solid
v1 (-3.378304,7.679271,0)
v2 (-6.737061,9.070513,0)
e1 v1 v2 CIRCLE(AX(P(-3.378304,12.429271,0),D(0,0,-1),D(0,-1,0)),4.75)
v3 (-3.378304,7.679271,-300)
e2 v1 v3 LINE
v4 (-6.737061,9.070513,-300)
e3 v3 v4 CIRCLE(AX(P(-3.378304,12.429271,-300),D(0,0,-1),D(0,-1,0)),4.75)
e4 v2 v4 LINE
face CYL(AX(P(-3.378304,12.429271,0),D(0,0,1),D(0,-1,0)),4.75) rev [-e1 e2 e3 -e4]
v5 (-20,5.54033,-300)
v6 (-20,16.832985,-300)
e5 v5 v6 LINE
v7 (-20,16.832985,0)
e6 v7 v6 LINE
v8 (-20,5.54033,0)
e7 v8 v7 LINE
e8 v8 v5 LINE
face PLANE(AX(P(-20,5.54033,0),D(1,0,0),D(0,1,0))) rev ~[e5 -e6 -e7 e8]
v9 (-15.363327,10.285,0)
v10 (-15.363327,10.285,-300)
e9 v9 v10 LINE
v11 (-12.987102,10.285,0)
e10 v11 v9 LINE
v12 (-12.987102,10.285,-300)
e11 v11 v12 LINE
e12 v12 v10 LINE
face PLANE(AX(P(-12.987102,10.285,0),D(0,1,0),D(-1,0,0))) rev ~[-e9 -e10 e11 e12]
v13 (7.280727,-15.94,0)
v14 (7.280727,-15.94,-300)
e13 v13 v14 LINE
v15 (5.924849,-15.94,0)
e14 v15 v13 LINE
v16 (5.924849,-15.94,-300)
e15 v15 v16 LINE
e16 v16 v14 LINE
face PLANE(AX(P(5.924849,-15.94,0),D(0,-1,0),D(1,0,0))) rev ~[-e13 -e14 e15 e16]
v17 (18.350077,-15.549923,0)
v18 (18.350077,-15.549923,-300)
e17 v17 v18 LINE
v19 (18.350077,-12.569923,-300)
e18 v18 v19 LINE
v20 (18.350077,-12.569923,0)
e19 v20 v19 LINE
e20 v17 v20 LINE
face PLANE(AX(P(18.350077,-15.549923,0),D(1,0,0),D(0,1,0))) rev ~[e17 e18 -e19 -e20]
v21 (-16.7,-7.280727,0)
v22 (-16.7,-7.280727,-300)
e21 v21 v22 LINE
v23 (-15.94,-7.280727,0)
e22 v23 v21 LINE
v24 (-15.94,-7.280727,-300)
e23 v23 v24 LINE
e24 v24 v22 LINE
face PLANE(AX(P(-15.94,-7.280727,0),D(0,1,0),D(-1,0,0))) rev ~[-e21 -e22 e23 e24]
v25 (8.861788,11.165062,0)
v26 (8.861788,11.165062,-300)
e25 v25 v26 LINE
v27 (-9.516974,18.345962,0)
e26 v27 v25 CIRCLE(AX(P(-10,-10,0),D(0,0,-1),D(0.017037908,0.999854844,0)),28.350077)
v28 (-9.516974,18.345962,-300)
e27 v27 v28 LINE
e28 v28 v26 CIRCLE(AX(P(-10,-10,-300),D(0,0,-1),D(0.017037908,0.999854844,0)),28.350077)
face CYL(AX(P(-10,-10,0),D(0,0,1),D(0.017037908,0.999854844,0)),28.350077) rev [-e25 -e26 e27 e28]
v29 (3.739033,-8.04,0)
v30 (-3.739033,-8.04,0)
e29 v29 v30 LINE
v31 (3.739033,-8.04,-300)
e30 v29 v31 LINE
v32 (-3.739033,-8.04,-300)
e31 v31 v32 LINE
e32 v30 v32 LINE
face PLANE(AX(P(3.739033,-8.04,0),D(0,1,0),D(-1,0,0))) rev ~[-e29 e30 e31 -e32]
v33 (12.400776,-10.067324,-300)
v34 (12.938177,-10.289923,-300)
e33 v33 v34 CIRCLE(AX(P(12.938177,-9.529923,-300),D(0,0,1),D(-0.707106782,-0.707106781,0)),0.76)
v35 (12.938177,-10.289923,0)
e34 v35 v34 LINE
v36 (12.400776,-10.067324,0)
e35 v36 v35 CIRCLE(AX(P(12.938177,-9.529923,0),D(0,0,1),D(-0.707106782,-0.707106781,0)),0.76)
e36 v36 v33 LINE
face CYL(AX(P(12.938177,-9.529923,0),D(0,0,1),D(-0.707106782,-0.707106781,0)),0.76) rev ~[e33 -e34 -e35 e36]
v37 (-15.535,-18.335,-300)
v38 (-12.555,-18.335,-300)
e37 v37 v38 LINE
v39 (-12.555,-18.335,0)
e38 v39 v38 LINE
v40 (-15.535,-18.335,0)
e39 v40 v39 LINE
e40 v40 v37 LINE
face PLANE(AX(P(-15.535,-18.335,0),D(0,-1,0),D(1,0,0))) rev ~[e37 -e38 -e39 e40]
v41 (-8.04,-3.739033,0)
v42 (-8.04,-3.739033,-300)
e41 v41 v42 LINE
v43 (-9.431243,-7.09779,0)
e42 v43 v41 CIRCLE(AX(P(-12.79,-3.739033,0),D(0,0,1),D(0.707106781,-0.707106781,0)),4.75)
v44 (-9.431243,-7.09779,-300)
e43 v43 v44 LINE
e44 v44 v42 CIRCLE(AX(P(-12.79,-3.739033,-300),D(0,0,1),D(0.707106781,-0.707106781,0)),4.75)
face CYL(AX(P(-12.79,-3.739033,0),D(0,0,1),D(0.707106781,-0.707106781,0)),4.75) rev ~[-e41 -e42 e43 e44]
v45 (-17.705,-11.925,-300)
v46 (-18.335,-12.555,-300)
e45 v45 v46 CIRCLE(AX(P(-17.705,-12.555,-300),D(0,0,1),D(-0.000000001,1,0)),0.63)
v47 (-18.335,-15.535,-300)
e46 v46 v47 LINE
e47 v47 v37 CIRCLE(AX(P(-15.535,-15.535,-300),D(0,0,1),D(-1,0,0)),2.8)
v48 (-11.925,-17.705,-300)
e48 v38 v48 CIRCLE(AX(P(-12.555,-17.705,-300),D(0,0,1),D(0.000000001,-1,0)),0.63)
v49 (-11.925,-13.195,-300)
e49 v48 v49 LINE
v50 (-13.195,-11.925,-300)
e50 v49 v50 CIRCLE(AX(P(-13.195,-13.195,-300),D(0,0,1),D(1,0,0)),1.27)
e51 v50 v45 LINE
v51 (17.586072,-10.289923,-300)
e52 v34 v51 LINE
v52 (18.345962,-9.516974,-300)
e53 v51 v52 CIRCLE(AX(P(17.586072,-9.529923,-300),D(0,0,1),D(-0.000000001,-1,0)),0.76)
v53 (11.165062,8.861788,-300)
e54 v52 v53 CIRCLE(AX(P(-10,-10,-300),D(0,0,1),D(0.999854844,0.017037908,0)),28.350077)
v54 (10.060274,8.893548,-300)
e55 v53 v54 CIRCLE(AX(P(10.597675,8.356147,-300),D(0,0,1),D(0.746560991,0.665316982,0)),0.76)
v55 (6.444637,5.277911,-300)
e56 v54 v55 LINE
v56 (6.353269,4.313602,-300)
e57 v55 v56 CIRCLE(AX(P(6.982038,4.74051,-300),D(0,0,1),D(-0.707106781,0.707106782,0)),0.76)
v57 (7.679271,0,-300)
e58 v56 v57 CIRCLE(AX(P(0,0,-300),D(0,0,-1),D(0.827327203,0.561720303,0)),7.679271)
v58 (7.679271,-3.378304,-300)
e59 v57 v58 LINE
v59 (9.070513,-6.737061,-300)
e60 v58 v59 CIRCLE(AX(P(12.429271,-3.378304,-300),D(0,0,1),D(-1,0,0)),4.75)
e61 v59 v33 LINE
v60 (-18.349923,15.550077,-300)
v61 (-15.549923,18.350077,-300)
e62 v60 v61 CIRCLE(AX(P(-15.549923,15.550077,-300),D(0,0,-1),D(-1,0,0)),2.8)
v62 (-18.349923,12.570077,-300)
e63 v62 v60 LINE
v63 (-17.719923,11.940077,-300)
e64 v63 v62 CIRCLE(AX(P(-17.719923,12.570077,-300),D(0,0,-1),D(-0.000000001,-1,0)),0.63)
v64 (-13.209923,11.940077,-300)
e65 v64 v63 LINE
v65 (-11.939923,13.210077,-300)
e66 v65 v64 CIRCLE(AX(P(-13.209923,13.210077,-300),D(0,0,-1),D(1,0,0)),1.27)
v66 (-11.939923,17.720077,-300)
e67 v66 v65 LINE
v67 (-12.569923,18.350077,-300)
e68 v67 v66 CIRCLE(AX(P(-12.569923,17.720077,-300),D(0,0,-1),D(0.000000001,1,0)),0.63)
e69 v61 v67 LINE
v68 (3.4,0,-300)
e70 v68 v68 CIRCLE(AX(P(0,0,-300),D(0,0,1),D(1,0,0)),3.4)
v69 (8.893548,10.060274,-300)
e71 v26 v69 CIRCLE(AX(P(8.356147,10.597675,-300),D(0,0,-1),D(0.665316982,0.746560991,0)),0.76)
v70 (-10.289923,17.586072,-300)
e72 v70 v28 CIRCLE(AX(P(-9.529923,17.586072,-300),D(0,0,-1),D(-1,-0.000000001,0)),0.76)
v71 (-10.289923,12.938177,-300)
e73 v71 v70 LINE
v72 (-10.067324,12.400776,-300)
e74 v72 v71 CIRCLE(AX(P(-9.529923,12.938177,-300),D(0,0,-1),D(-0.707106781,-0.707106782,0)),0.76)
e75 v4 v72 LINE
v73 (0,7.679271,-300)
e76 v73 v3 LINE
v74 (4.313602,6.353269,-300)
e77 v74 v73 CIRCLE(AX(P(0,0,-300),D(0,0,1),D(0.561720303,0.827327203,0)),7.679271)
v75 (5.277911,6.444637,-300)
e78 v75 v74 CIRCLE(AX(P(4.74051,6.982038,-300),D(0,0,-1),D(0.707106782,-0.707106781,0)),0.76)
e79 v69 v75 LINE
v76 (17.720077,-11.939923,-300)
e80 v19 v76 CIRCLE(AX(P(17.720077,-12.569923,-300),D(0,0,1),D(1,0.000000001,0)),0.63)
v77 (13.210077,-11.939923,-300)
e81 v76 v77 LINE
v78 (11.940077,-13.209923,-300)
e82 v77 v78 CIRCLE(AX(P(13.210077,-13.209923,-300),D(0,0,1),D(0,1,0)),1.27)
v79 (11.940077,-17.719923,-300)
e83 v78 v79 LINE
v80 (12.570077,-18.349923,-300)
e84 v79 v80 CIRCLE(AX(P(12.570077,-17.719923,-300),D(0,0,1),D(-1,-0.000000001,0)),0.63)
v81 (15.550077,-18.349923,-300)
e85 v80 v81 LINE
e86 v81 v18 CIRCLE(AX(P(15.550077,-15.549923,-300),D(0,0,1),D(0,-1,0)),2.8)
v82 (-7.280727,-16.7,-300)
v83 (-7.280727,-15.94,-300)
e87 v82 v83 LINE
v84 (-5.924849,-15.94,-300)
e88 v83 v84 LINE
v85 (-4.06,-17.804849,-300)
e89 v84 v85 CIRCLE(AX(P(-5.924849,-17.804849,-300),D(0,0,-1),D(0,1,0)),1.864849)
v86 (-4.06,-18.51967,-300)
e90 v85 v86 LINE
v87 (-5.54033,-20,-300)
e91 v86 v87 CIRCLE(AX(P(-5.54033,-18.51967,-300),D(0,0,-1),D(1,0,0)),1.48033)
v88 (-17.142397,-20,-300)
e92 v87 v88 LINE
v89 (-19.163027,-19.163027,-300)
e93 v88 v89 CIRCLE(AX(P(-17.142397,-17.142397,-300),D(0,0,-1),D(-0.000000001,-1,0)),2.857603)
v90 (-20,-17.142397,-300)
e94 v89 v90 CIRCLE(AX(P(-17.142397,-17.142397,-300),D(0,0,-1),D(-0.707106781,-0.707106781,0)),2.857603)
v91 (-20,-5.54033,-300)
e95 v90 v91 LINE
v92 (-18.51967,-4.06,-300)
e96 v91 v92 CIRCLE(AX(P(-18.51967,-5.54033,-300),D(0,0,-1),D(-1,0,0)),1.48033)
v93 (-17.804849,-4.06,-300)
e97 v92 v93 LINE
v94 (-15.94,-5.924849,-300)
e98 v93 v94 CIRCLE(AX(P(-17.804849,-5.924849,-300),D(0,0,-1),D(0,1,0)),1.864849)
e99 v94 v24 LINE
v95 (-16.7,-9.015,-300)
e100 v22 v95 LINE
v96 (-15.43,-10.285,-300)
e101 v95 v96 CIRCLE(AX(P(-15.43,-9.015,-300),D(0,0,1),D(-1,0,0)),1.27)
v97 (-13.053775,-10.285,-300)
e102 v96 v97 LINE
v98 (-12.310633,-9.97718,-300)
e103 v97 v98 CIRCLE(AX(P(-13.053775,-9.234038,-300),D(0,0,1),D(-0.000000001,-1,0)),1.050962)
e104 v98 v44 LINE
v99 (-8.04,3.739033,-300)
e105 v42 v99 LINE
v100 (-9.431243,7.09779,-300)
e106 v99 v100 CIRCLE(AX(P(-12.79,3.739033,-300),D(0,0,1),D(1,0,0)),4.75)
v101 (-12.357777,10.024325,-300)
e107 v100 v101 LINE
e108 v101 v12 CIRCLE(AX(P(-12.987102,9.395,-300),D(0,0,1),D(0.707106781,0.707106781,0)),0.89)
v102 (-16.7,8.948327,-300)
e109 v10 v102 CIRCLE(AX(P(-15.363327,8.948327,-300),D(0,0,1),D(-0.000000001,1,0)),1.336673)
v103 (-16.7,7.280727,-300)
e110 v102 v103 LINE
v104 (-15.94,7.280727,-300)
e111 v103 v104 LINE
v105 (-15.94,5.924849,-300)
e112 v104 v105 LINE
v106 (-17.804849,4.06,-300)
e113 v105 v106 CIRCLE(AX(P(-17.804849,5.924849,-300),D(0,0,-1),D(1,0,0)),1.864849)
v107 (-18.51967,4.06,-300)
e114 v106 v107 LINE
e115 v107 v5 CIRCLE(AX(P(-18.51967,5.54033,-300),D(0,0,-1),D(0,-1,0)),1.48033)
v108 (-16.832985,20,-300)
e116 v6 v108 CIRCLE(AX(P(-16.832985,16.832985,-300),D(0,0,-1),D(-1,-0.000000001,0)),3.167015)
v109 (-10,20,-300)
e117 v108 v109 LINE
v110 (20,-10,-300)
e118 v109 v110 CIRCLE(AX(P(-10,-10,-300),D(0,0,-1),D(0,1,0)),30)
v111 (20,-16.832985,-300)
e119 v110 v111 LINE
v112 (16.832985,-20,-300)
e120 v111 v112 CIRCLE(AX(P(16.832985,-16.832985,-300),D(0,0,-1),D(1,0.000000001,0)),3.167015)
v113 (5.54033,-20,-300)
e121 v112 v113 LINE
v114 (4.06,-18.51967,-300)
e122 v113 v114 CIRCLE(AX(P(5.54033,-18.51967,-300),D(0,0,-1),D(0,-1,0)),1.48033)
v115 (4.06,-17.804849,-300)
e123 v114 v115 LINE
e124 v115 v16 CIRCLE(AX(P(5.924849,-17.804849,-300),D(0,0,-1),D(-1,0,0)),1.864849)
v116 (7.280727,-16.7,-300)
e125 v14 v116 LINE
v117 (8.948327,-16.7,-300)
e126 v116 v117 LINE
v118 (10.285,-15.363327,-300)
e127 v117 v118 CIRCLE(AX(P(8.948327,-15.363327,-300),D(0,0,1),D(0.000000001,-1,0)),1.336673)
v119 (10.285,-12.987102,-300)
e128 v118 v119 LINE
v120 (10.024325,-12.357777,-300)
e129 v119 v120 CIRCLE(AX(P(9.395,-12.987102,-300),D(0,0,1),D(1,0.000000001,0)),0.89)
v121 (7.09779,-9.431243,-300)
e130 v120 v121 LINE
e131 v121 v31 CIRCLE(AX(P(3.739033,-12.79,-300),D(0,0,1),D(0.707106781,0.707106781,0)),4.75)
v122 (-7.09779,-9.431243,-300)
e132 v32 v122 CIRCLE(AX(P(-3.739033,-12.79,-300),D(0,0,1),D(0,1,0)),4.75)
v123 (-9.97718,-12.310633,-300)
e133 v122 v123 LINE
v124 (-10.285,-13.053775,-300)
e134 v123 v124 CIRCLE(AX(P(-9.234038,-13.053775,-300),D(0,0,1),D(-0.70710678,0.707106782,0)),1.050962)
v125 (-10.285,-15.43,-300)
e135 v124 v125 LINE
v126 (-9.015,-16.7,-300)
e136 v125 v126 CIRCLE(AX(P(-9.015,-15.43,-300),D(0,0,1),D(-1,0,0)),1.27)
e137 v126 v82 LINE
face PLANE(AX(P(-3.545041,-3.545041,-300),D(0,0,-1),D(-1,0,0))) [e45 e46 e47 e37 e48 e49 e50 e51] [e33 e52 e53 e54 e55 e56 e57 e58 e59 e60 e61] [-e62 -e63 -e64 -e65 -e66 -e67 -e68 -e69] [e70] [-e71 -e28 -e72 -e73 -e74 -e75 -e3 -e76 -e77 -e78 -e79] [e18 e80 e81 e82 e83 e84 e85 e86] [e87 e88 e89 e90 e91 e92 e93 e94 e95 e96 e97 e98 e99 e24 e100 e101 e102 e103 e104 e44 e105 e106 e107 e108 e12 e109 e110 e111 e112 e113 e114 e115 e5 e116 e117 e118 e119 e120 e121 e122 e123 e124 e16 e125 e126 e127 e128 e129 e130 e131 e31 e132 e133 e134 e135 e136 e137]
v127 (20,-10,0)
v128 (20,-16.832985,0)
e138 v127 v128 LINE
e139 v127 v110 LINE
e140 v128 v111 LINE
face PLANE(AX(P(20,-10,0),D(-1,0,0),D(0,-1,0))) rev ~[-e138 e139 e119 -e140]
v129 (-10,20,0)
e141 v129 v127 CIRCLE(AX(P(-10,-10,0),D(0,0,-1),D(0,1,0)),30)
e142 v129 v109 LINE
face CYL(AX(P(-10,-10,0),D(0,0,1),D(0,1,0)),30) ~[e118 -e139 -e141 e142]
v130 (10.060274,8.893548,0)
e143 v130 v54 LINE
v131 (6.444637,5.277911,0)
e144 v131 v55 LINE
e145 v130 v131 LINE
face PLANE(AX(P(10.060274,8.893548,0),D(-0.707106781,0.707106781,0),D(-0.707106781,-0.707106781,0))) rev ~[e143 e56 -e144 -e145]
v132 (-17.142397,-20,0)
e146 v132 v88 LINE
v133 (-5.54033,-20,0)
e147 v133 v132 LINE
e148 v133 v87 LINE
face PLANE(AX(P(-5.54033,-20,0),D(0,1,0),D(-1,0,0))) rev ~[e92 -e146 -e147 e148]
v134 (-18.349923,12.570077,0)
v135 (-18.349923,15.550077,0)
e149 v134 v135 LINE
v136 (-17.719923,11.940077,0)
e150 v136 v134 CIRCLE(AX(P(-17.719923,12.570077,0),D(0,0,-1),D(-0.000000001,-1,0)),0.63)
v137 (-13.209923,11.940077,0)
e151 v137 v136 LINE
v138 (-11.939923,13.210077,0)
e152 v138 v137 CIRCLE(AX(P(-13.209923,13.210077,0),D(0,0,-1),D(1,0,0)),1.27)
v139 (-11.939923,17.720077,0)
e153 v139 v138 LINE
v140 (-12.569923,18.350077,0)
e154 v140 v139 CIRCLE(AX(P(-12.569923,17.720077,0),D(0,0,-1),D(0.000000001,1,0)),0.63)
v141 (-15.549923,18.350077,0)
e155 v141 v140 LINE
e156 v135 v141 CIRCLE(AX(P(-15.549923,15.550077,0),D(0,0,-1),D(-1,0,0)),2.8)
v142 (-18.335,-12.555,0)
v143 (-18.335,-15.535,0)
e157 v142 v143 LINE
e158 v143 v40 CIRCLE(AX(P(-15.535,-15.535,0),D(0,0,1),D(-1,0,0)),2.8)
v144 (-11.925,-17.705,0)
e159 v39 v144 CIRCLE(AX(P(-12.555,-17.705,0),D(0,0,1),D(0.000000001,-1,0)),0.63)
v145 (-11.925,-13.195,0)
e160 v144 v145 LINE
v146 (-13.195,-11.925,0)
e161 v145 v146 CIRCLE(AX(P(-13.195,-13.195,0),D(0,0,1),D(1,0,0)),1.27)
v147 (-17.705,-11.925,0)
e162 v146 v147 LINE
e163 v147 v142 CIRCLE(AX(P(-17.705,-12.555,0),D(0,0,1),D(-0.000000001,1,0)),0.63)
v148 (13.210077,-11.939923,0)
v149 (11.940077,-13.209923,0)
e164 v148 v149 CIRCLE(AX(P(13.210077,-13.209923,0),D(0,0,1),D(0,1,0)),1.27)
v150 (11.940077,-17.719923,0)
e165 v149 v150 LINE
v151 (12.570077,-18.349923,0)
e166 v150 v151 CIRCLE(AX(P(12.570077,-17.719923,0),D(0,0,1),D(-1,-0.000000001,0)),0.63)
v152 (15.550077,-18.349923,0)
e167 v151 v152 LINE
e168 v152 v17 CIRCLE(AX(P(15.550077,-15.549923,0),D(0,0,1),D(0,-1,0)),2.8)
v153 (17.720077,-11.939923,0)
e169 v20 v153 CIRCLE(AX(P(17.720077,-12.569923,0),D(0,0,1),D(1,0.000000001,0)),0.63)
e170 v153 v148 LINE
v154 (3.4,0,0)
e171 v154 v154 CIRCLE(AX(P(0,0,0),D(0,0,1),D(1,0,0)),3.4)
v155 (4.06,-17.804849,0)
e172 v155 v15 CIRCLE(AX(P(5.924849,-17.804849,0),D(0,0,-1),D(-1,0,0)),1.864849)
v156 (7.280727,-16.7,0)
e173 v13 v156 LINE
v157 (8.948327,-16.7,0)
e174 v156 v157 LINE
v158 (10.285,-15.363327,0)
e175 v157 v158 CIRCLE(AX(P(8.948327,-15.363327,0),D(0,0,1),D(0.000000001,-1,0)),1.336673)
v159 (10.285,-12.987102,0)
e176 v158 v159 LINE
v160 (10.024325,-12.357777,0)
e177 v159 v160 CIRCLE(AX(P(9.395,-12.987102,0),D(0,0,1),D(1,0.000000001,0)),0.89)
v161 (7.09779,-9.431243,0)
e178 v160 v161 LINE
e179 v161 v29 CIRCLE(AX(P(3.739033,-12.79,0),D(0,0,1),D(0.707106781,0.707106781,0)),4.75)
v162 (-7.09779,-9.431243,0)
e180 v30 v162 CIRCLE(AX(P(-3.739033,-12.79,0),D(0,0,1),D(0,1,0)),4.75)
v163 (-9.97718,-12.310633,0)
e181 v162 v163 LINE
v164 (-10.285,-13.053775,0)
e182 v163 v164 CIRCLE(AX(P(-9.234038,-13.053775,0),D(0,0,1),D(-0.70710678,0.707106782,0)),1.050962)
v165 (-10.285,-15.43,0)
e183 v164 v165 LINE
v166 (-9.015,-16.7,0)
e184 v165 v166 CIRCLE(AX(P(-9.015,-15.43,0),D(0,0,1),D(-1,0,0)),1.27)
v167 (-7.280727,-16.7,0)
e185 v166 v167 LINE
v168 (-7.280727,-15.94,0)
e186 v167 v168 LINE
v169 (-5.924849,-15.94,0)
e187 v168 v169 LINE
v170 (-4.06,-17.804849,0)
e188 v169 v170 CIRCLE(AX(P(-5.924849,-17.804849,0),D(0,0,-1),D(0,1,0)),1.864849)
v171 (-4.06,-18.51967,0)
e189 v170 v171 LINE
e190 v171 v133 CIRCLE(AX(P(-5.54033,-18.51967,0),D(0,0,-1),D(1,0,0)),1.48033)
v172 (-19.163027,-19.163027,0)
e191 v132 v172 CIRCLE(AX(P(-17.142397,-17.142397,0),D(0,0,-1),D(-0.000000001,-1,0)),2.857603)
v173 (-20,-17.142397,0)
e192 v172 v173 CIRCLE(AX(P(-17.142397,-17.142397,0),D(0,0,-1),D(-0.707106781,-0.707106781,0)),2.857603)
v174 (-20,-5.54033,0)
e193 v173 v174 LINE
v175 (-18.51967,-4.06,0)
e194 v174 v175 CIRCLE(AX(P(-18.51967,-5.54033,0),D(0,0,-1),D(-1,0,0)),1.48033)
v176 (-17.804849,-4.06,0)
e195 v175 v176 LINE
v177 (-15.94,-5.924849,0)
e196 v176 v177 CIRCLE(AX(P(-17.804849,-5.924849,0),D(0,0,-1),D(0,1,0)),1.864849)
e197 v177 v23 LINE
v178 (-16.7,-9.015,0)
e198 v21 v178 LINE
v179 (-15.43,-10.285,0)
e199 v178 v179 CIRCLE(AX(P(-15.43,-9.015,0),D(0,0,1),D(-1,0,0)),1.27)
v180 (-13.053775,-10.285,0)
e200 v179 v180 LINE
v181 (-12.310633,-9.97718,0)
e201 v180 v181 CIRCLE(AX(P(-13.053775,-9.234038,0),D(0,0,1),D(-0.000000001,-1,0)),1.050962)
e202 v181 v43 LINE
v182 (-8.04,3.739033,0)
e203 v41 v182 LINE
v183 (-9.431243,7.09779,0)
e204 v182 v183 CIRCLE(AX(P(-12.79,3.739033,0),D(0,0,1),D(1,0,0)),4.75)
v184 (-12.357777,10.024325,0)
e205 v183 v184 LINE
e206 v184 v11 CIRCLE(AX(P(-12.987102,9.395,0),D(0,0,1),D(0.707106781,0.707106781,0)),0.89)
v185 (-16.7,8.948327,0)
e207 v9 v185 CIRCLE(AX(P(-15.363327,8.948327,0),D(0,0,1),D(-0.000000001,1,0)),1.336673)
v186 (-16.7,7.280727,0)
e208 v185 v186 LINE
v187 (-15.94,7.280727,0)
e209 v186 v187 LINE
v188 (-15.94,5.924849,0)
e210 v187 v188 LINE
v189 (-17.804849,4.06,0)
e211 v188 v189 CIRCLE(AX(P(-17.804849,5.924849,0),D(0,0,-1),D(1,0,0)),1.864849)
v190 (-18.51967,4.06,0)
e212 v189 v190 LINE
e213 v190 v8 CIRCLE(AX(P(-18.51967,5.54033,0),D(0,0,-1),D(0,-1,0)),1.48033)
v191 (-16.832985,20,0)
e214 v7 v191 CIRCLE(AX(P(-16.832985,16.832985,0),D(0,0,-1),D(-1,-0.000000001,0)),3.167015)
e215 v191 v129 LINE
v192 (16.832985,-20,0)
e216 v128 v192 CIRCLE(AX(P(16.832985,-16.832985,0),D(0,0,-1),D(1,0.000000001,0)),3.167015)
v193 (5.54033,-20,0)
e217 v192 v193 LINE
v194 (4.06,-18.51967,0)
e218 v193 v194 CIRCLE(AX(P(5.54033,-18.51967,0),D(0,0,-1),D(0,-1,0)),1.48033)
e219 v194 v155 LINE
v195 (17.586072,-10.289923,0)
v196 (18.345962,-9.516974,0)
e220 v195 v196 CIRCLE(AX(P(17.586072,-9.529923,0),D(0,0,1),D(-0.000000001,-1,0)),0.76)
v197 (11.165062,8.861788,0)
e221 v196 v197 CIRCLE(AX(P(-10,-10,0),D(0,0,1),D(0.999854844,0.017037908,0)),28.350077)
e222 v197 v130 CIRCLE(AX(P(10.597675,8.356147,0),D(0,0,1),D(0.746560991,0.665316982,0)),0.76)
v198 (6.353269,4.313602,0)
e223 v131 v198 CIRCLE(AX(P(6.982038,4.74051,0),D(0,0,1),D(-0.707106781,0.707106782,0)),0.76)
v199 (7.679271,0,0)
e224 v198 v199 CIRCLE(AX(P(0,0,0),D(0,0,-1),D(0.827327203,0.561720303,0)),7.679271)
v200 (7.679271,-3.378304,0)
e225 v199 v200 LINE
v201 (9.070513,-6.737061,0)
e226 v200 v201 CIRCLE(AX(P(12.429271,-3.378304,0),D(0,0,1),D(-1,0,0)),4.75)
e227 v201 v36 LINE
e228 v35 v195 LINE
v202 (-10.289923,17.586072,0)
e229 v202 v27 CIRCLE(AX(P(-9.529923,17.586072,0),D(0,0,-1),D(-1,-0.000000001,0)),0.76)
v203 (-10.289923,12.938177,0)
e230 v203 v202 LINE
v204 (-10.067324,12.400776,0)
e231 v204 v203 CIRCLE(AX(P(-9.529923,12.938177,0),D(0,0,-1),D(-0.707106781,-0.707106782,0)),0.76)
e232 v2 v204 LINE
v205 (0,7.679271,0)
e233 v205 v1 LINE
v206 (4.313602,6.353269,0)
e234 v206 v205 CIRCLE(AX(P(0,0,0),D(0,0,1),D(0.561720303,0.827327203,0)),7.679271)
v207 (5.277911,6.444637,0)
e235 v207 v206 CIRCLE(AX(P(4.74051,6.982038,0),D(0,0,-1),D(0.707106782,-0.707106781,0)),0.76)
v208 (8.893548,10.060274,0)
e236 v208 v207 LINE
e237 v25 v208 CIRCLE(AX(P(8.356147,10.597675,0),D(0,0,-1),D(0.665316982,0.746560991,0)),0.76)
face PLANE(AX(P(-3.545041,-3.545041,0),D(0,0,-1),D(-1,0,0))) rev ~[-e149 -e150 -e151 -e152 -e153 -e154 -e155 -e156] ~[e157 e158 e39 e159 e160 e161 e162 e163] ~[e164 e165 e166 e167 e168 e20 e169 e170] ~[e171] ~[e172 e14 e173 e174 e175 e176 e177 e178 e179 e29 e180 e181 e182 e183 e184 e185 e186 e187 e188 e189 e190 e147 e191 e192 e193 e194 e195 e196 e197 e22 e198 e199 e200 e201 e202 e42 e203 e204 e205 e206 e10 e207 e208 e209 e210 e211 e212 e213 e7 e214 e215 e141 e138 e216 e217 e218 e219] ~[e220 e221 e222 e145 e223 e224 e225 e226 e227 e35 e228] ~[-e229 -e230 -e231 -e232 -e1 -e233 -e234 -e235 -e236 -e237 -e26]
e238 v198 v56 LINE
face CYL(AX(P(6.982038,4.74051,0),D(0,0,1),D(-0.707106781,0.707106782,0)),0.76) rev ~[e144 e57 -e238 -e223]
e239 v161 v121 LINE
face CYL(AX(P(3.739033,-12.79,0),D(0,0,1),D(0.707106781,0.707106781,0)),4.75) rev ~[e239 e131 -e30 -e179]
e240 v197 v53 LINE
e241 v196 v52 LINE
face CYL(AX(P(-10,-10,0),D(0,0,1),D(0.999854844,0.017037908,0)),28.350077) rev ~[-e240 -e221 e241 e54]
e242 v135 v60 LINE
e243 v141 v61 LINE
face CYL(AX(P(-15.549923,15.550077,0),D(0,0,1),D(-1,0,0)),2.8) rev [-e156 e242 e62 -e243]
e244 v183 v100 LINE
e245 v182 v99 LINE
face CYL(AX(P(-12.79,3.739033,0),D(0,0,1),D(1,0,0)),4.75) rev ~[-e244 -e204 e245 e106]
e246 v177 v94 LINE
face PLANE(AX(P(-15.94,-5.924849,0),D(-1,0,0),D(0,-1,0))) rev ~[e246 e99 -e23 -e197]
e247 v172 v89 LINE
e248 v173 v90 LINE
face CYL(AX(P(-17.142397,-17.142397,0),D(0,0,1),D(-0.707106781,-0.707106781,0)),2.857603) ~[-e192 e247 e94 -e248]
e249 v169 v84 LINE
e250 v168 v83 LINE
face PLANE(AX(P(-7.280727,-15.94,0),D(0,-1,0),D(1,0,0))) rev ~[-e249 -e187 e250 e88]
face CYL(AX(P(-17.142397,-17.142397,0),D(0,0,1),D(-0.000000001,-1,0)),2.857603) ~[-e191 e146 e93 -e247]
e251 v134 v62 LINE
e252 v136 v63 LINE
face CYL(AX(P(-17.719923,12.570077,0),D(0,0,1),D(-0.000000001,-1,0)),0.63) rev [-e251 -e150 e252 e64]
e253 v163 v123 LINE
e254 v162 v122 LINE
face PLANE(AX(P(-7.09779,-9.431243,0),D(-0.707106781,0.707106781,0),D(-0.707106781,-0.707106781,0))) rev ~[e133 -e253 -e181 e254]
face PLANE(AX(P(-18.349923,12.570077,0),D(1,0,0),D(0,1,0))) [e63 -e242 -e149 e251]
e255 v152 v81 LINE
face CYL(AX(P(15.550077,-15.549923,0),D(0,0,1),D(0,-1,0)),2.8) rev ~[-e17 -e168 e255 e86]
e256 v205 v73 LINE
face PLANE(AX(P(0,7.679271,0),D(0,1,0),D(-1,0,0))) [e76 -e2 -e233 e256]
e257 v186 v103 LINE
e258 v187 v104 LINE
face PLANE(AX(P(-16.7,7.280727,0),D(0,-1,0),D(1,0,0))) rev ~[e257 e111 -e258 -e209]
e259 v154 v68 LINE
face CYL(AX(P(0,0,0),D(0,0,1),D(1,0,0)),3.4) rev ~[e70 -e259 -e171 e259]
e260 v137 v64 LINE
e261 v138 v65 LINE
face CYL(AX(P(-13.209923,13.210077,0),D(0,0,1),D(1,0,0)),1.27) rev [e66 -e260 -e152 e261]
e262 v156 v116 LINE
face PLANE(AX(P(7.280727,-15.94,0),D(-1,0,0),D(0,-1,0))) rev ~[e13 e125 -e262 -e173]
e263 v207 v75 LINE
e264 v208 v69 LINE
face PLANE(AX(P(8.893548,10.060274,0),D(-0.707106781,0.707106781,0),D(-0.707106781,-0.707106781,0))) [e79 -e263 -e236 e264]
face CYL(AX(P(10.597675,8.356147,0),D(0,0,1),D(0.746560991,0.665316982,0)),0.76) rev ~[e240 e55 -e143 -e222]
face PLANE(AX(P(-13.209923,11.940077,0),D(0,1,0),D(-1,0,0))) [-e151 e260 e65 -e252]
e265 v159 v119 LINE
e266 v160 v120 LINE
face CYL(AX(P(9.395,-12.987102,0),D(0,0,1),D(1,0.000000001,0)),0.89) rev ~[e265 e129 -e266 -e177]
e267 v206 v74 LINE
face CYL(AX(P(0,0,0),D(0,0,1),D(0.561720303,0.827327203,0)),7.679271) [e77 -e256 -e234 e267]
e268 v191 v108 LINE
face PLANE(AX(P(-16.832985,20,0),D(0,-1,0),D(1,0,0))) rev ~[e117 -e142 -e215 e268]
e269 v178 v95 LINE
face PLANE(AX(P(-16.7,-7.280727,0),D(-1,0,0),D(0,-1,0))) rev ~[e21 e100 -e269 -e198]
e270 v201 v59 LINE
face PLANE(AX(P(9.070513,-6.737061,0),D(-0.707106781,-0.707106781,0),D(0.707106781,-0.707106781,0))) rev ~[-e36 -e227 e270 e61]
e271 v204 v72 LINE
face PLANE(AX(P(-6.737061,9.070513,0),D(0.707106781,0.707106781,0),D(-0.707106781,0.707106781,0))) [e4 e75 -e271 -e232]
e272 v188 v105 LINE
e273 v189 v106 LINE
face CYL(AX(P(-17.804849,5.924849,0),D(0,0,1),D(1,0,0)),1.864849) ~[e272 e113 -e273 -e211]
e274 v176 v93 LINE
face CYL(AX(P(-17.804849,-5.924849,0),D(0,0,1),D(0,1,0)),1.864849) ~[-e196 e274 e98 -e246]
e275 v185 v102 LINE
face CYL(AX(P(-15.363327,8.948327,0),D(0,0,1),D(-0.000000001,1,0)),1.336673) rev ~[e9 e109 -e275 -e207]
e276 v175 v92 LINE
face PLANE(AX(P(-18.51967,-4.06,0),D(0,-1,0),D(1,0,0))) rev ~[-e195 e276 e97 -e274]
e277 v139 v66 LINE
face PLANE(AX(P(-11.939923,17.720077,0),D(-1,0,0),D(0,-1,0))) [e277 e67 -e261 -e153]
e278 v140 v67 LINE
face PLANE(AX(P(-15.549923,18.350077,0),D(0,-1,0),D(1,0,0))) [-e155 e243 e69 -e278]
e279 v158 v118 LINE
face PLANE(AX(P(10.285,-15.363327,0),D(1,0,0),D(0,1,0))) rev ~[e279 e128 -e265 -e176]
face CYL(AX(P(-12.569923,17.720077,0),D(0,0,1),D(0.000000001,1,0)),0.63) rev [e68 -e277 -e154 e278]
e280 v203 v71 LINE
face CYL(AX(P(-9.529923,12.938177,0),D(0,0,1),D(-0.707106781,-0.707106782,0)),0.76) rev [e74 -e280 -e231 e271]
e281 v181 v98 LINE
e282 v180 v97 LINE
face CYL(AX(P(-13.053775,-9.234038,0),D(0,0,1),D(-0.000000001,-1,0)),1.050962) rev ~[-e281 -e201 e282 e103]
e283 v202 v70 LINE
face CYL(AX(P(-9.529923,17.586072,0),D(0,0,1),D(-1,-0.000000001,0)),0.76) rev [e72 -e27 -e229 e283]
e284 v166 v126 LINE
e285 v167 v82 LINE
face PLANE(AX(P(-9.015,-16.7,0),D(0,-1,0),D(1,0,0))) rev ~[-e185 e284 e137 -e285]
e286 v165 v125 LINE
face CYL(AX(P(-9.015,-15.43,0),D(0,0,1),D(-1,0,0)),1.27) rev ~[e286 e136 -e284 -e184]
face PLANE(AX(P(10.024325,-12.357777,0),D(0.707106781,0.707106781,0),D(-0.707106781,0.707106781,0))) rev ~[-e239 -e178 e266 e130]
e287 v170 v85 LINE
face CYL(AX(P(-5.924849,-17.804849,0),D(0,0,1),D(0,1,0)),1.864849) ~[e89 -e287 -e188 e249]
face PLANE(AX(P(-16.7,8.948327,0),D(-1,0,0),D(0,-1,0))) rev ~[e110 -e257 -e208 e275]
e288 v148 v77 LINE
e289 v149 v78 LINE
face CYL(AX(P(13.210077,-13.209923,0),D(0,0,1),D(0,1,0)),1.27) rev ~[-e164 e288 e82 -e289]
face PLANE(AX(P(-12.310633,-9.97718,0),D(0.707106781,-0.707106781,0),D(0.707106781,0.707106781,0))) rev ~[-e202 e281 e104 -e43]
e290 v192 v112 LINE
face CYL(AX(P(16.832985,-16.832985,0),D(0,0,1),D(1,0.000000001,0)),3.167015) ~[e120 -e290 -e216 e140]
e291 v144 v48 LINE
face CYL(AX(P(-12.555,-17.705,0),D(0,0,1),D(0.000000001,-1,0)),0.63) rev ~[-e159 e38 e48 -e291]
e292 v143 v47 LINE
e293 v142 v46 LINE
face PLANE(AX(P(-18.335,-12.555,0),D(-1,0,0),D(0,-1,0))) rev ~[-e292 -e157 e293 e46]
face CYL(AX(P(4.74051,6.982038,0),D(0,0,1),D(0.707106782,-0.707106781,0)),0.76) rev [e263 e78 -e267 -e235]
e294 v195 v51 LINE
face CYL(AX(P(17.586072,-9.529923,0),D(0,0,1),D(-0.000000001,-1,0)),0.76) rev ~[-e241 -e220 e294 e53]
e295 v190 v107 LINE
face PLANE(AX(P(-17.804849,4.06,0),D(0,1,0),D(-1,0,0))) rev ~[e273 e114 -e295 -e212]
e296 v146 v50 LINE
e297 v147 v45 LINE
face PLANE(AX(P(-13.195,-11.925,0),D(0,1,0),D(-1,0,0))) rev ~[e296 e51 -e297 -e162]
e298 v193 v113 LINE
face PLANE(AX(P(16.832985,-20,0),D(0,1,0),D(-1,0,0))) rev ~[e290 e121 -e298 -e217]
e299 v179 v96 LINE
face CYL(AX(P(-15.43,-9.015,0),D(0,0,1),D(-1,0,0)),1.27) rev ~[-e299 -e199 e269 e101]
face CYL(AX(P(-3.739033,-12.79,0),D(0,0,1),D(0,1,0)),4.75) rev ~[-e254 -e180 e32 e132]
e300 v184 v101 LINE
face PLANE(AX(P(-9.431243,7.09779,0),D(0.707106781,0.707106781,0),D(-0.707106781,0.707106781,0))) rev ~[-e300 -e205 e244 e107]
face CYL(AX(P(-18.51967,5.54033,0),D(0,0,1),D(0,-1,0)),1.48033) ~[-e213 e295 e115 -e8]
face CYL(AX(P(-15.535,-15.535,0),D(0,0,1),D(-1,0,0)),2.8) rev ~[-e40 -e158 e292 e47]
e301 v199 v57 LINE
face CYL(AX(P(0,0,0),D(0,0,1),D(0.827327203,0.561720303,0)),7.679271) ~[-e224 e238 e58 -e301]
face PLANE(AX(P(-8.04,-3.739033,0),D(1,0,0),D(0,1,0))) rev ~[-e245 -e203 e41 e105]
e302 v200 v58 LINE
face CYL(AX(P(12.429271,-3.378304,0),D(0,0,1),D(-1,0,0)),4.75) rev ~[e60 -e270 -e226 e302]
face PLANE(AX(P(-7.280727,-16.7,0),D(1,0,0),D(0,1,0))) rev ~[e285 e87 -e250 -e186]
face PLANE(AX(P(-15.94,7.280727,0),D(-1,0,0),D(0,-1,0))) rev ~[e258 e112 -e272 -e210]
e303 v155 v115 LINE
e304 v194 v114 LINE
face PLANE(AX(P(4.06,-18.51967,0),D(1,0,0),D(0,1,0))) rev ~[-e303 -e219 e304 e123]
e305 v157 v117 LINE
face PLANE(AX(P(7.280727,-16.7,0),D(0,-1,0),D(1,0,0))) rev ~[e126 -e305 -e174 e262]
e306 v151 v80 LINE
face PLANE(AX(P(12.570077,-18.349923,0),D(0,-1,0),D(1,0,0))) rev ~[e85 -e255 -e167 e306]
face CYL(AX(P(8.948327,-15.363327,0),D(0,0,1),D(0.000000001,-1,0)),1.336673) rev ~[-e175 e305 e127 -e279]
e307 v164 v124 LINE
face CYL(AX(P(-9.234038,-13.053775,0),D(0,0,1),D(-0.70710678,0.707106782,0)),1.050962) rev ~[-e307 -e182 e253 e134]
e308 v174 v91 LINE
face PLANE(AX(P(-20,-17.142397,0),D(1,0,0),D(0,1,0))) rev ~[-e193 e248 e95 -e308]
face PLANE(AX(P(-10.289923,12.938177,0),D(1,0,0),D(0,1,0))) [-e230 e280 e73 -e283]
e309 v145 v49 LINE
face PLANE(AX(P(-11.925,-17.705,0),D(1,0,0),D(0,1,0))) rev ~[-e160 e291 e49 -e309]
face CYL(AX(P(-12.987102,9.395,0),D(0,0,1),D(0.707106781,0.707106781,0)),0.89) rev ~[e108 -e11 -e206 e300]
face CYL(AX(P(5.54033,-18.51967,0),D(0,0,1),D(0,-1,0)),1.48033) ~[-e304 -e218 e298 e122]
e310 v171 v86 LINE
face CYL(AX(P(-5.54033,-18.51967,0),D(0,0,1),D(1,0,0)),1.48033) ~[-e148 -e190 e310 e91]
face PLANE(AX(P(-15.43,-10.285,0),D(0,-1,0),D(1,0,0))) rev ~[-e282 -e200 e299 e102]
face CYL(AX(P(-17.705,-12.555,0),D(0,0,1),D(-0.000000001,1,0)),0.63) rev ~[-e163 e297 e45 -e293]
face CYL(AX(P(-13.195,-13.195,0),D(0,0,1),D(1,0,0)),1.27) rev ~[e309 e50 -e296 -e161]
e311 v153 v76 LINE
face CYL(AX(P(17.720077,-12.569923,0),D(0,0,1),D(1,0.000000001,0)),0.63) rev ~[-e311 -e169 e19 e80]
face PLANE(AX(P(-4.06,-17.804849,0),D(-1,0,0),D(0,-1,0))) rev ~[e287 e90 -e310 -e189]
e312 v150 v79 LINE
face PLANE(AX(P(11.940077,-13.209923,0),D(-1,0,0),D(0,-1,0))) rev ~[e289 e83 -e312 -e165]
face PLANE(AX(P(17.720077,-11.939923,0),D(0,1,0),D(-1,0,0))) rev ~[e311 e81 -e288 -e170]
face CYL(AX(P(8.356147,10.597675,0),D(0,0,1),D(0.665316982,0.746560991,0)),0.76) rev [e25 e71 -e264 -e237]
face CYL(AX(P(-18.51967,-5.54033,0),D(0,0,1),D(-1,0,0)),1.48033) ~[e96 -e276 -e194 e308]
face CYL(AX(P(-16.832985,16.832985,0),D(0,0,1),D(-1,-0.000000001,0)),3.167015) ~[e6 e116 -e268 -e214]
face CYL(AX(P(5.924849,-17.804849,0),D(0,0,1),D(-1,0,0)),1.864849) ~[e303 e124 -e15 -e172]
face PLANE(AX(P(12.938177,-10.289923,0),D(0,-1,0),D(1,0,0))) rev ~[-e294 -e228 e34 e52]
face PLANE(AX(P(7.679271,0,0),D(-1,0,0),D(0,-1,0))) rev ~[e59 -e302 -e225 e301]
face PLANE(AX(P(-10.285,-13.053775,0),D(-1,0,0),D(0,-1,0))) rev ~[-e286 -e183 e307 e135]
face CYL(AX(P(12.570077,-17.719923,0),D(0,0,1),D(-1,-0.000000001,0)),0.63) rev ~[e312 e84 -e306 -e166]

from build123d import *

# Parameters (mm, degrees)
SKETCH1_R      = 3.4
EXTRUDE1_DEPTH = 300


with BuildPart() as part:
    # Sketch1 → Extrude1 (new body)
    with BuildSketch(Plane.XY):
        with BuildLine():
            Line((-13.552721419, -20), (-17.142397126, -20))
            ThreePointArc((-17.142397126, -20), (-18.235954402, -19.782477933), (-19.163027496, -19.163027496))
            ThreePointArc((-19.163027496, -19.163027496), (-19.782477933, -18.235954402), (-20, -17.142397126))
            Line((-20, -17.142397126), (-20, -13.552721419))
            Line((-20, -13.552721419), (-20, -5.540330257))
            ThreePointArc((-20, -5.540330257), (-19.566421306, -4.493578694), (-18.519669743, -4.06))
            Line((-18.519669743, -4.06), (-17.804849126, -4.06))
            ThreePointArc((-17.804849126, -4.06), (-16.486201663, -4.606201663), (-15.94, -5.924849126))
            Line((-15.94, -5.924849126), (-15.94, -7.280726922))
            Line((-15.94, -7.280726922), (-16.7, -7.280726922))
            Line((-16.7, -7.280726922), (-16.7, -9.015))
            ThreePointArc((-16.7, -9.015), (-16.328025612, -9.913025612), (-15.43, -10.285))
            Line((-15.43, -10.285), (-13.053775012, -10.285))
            ThreePointArc((-13.053775012, -10.285), (-12.65158934, -10.205000296), (-12.310632791, -9.977180413))
            Line((-12.310632791, -9.977180413), (-9.431242789, -7.097790411))
            ThreePointArc((-9.431242789, -7.097790411), (-8.401572221, -5.556779505), (-8.04, -3.739033201))
            Line((-8.04, -3.739033201), (-8.04, 3.739033201))
            ThreePointArc((-8.04, 3.739033201), (-8.401572221, 5.556779505), (-9.431242789, 7.097790411))
            Line((-9.431242789, 7.097790411), (-12.357777413, 10.024325035))
            ThreePointArc((-12.357777413, 10.024325035), (-12.646514194, 10.217252784), (-12.987102448, 10.285))
            Line((-12.987102448, 10.285), (-15.363327437, 10.285))
            ThreePointArc((-15.363327437, 10.285), (-16.30849767, 9.89349767), (-16.7, 8.948327437))
            Line((-16.7, 8.948327437), (-16.7, 7.280726922))
            Line((-16.7, 7.280726922), (-15.94, 7.280726922))
            Line((-15.94, 7.280726922), (-15.94, 5.924849126))
            ThreePointArc((-15.94, 5.924849126), (-16.486201663, 4.606201663), (-17.804849126, 4.06))
            Line((-17.804849126, 4.06), (-18.519669743, 4.06))
            ThreePointArc((-18.519669743, 4.06), (-19.566421306, 4.493578694), (-20, 5.540330257))
            Line((-20, 5.540330257), (-20, 12.563650804))
            Line((-20, 12.563650804), (-20, 16.832984559))
            ThreePointArc((-20, 16.832984559), (-19.072402654, 19.072402654), (-16.832984559, 20))
            Line((-16.832984559, 20), (-10, 20))
            ThreePointArc((-10, 20), (11.213203436, 11.213203436), (20, -10))
            Line((20, -10), (20, -16.832984559))
            ThreePointArc((20, -16.832984559), (19.072402654, -19.072402654), (16.832984559, -20))
            Line((16.832984559, -20), (12.563650804, -20))
            Line((12.563650804, -20), (5.540330257, -20))
            ThreePointArc((5.540330257, -20), (4.493578694, -19.566421306), (4.06, -18.519669743))
            Line((4.06, -18.519669743), (4.06, -17.804849126))
            ThreePointArc((4.06, -17.804849126), (4.606201663, -16.486201663), (5.924849126, -15.94))
            Line((5.924849126, -15.94), (7.280726922, -15.94))
            Line((7.280726922, -15.94), (7.280726922, -16.7))
            Line((7.280726922, -16.7), (8.948327437, -16.7))
            ThreePointArc((8.948327437, -16.7), (9.89349767, -16.30849767), (10.285, -15.363327437))
            Line((10.285, -15.363327437), (10.285, -12.987102448))
            ThreePointArc((10.285, -12.987102448), (10.217252784, -12.646514194), (10.024325035, -12.357777413))
            Line((10.024325035, -12.357777413), (7.097790411, -9.431242789))
            ThreePointArc((7.097790411, -9.431242789), (5.556779505, -8.401572221), (3.739033201, -8.04))
            Line((3.739033201, -8.04), (-3.739033201, -8.04))
            ThreePointArc((-3.739033201, -8.04), (-5.556779505, -8.401572221), (-7.097790411, -9.431242789))
            Line((-7.097790411, -9.431242789), (-9.977180413, -12.310632791))
            ThreePointArc((-9.977180413, -12.310632791), (-10.205000296, -12.65158934), (-10.285, -13.053775012))
            Line((-10.285, -13.053775012), (-10.285, -15.43))
            ThreePointArc((-10.285, -15.43), (-9.913025612, -16.328025612), (-9.015, -16.7))
            Line((-9.015, -16.7), (-7.280726922, -16.7))
            Line((-7.280726922, -16.7), (-7.280726922, -15.94))
            Line((-7.280726922, -15.94), (-5.924849126, -15.94))
            ThreePointArc((-5.924849126, -15.94), (-4.606201663, -16.486201663), (-4.06, -17.804849126))
            Line((-4.06, -17.804849126), (-4.06, -18.519669743))
            ThreePointArc((-4.06, -18.519669743), (-4.493578694, -19.566421306), (-5.540330257, -20))
            Line((-5.540330257, -20), (-13.552721419, -20))
        make_face()
        Circle(SKETCH1_R, mode=Mode.SUBTRACT)
        with BuildLine():
            Line((-11.925, -17.705), (-11.925, -13.195))
            ThreePointArc((-11.925, -13.195), (-12.296974388, -12.296974388), (-13.195, -11.925))
            Line((-13.195, -11.925), (-17.705, -11.925))
            ThreePointArc((-17.705, -11.925), (-18.150477272, -12.109522728), (-18.335, -12.555))
            Line((-18.335, -12.555), (-18.335, -15.535))
            ThreePointArc((-18.335, -15.535), (-17.514898987, -17.514898987), (-15.535, -18.335))
            Line((-15.535, -18.335), (-12.555, -18.335))
            ThreePointArc((-12.555, -18.335), (-12.109522728, -18.150477272), (-11.925, -17.705))
        make_face(mode=Mode.SUBTRACT)
        with BuildLine():
            Line((7.679270597, 0), (7.679270597, -3.378303798))
            ThreePointArc((7.679270597, -3.378303798), (8.040842817, -5.196050101), (9.070513386, -6.737061008))
            Line((9.070513386, -6.737061008), (12.400776329, -10.067323951))
            ThreePointArc((12.400776329, -10.067323951), (12.647338074, -10.232071242), (12.938177482, -10.289922797))
            Line((12.938177482, -10.289922797), (17.586072346, -10.289922797))
            ThreePointArc((17.586072346, -10.289922797), (18.12803226, -10.062726187), (18.345962028, -9.516973987))
            ThreePointArc((18.345962028, -9.516973987), (16.406061612, 0.317305248), (11.165061741, 8.861787798))
            ThreePointArc((11.165061741, 8.861787798), (10.619514718, 9.11583304), (10.060274233, 8.893548045))
            Line((10.060274233, 8.893548045), (6.444636983, 5.277910795))
            ThreePointArc((6.444636983, 5.277910795), (6.225426758, 4.812198006), (6.353269463, 4.313602211))
            ThreePointArc((6.353269463, 4.313602211), (7.34028856, 2.256404387), (7.679270597, 0))
        make_face(mode=Mode.SUBTRACT)
        with BuildLine():
            Line((17.720077203, -11.939922797), (13.210077203, -11.939922797))
            ThreePointArc((13.210077203, -11.939922797), (12.312051591, -12.311897185), (11.940077203, -13.209922797))
            Line((11.940077203, -13.209922797), (11.940077203, -17.719922797))
            ThreePointArc((11.940077203, -17.719922797), (12.124599931, -18.165400069), (12.570077203, -18.349922797))
            Line((12.570077203, -18.349922797), (15.550077203, -18.349922797))
            ThreePointArc((15.550077203, -18.349922797), (17.52997619, -17.529821784), (18.350077203, -15.549922797))
            Line((18.350077203, -15.549922797), (18.350077203, -12.569922797))
            ThreePointArc((18.350077203, -12.569922797), (18.165554475, -12.124445525), (17.720077203, -11.939922797))
        make_face(mode=Mode.SUBTRACT)
        with BuildLine():
            Line((-13.209922797, 11.940077203), (-17.719922797, 11.940077203))
            ThreePointArc((-17.719922797, 11.940077203), (-18.165400069, 12.124599931), (-18.349922797, 12.570077203))
            Line((-18.349922797, 12.570077203), (-18.349922797, 15.550077203))
            ThreePointArc((-18.349922797, 15.550077203), (-17.529821784, 17.52997619), (-15.549922797, 18.350077203))
            Line((-15.549922797, 18.350077203), (-12.569922797, 18.350077203))
            ThreePointArc((-12.569922797, 18.350077203), (-12.124445525, 18.165554475), (-11.939922797, 17.720077203))
            Line((-11.939922797, 17.720077203), (-11.939922797, 13.210077203))
            ThreePointArc((-11.939922797, 13.210077203), (-12.311897185, 12.312051591), (-13.209922797, 11.940077203))
        make_face(mode=Mode.SUBTRACT)
        with BuildLine():
            Line((8.893548045, 10.060274233), (5.277910795, 6.444636983))
            ThreePointArc((5.277910795, 6.444636983), (4.812198006, 6.225426758), (4.313602211, 6.353269463))
            ThreePointArc((4.313602211, 6.353269463), (2.256404387, 7.34028856), (0, 7.679270597))
            Line((0, 7.679270597), (-3.378303798, 7.679270597))
            ThreePointArc((-3.378303798, 7.679270597), (-5.196050101, 8.040842817), (-6.737061008, 9.070513386))
            Line((-6.737061008, 9.070513386), (-10.067323951, 12.400776329))
            ThreePointArc((-10.067323951, 12.400776329), (-10.232071242, 12.647338074), (-10.289922797, 12.938177482))
            Line((-10.289922797, 12.938177482), (-10.289922797, 17.586072346))
            ThreePointArc((-10.289922797, 17.586072346), (-10.062726187, 18.12803226), (-9.516973987, 18.345962028))
            ThreePointArc((-9.516973987, 18.345962028), (0.317305248, 16.406061612), (8.861787798, 11.165061741))
            ThreePointArc((8.861787798, 11.165061741), (9.11583304, 10.619514718), (8.893548045, 10.060274233))
        make_face(mode=Mode.SUBTRACT)
    extrude(amount=-EXTRUDE1_DEPTH)


solid = part.part
